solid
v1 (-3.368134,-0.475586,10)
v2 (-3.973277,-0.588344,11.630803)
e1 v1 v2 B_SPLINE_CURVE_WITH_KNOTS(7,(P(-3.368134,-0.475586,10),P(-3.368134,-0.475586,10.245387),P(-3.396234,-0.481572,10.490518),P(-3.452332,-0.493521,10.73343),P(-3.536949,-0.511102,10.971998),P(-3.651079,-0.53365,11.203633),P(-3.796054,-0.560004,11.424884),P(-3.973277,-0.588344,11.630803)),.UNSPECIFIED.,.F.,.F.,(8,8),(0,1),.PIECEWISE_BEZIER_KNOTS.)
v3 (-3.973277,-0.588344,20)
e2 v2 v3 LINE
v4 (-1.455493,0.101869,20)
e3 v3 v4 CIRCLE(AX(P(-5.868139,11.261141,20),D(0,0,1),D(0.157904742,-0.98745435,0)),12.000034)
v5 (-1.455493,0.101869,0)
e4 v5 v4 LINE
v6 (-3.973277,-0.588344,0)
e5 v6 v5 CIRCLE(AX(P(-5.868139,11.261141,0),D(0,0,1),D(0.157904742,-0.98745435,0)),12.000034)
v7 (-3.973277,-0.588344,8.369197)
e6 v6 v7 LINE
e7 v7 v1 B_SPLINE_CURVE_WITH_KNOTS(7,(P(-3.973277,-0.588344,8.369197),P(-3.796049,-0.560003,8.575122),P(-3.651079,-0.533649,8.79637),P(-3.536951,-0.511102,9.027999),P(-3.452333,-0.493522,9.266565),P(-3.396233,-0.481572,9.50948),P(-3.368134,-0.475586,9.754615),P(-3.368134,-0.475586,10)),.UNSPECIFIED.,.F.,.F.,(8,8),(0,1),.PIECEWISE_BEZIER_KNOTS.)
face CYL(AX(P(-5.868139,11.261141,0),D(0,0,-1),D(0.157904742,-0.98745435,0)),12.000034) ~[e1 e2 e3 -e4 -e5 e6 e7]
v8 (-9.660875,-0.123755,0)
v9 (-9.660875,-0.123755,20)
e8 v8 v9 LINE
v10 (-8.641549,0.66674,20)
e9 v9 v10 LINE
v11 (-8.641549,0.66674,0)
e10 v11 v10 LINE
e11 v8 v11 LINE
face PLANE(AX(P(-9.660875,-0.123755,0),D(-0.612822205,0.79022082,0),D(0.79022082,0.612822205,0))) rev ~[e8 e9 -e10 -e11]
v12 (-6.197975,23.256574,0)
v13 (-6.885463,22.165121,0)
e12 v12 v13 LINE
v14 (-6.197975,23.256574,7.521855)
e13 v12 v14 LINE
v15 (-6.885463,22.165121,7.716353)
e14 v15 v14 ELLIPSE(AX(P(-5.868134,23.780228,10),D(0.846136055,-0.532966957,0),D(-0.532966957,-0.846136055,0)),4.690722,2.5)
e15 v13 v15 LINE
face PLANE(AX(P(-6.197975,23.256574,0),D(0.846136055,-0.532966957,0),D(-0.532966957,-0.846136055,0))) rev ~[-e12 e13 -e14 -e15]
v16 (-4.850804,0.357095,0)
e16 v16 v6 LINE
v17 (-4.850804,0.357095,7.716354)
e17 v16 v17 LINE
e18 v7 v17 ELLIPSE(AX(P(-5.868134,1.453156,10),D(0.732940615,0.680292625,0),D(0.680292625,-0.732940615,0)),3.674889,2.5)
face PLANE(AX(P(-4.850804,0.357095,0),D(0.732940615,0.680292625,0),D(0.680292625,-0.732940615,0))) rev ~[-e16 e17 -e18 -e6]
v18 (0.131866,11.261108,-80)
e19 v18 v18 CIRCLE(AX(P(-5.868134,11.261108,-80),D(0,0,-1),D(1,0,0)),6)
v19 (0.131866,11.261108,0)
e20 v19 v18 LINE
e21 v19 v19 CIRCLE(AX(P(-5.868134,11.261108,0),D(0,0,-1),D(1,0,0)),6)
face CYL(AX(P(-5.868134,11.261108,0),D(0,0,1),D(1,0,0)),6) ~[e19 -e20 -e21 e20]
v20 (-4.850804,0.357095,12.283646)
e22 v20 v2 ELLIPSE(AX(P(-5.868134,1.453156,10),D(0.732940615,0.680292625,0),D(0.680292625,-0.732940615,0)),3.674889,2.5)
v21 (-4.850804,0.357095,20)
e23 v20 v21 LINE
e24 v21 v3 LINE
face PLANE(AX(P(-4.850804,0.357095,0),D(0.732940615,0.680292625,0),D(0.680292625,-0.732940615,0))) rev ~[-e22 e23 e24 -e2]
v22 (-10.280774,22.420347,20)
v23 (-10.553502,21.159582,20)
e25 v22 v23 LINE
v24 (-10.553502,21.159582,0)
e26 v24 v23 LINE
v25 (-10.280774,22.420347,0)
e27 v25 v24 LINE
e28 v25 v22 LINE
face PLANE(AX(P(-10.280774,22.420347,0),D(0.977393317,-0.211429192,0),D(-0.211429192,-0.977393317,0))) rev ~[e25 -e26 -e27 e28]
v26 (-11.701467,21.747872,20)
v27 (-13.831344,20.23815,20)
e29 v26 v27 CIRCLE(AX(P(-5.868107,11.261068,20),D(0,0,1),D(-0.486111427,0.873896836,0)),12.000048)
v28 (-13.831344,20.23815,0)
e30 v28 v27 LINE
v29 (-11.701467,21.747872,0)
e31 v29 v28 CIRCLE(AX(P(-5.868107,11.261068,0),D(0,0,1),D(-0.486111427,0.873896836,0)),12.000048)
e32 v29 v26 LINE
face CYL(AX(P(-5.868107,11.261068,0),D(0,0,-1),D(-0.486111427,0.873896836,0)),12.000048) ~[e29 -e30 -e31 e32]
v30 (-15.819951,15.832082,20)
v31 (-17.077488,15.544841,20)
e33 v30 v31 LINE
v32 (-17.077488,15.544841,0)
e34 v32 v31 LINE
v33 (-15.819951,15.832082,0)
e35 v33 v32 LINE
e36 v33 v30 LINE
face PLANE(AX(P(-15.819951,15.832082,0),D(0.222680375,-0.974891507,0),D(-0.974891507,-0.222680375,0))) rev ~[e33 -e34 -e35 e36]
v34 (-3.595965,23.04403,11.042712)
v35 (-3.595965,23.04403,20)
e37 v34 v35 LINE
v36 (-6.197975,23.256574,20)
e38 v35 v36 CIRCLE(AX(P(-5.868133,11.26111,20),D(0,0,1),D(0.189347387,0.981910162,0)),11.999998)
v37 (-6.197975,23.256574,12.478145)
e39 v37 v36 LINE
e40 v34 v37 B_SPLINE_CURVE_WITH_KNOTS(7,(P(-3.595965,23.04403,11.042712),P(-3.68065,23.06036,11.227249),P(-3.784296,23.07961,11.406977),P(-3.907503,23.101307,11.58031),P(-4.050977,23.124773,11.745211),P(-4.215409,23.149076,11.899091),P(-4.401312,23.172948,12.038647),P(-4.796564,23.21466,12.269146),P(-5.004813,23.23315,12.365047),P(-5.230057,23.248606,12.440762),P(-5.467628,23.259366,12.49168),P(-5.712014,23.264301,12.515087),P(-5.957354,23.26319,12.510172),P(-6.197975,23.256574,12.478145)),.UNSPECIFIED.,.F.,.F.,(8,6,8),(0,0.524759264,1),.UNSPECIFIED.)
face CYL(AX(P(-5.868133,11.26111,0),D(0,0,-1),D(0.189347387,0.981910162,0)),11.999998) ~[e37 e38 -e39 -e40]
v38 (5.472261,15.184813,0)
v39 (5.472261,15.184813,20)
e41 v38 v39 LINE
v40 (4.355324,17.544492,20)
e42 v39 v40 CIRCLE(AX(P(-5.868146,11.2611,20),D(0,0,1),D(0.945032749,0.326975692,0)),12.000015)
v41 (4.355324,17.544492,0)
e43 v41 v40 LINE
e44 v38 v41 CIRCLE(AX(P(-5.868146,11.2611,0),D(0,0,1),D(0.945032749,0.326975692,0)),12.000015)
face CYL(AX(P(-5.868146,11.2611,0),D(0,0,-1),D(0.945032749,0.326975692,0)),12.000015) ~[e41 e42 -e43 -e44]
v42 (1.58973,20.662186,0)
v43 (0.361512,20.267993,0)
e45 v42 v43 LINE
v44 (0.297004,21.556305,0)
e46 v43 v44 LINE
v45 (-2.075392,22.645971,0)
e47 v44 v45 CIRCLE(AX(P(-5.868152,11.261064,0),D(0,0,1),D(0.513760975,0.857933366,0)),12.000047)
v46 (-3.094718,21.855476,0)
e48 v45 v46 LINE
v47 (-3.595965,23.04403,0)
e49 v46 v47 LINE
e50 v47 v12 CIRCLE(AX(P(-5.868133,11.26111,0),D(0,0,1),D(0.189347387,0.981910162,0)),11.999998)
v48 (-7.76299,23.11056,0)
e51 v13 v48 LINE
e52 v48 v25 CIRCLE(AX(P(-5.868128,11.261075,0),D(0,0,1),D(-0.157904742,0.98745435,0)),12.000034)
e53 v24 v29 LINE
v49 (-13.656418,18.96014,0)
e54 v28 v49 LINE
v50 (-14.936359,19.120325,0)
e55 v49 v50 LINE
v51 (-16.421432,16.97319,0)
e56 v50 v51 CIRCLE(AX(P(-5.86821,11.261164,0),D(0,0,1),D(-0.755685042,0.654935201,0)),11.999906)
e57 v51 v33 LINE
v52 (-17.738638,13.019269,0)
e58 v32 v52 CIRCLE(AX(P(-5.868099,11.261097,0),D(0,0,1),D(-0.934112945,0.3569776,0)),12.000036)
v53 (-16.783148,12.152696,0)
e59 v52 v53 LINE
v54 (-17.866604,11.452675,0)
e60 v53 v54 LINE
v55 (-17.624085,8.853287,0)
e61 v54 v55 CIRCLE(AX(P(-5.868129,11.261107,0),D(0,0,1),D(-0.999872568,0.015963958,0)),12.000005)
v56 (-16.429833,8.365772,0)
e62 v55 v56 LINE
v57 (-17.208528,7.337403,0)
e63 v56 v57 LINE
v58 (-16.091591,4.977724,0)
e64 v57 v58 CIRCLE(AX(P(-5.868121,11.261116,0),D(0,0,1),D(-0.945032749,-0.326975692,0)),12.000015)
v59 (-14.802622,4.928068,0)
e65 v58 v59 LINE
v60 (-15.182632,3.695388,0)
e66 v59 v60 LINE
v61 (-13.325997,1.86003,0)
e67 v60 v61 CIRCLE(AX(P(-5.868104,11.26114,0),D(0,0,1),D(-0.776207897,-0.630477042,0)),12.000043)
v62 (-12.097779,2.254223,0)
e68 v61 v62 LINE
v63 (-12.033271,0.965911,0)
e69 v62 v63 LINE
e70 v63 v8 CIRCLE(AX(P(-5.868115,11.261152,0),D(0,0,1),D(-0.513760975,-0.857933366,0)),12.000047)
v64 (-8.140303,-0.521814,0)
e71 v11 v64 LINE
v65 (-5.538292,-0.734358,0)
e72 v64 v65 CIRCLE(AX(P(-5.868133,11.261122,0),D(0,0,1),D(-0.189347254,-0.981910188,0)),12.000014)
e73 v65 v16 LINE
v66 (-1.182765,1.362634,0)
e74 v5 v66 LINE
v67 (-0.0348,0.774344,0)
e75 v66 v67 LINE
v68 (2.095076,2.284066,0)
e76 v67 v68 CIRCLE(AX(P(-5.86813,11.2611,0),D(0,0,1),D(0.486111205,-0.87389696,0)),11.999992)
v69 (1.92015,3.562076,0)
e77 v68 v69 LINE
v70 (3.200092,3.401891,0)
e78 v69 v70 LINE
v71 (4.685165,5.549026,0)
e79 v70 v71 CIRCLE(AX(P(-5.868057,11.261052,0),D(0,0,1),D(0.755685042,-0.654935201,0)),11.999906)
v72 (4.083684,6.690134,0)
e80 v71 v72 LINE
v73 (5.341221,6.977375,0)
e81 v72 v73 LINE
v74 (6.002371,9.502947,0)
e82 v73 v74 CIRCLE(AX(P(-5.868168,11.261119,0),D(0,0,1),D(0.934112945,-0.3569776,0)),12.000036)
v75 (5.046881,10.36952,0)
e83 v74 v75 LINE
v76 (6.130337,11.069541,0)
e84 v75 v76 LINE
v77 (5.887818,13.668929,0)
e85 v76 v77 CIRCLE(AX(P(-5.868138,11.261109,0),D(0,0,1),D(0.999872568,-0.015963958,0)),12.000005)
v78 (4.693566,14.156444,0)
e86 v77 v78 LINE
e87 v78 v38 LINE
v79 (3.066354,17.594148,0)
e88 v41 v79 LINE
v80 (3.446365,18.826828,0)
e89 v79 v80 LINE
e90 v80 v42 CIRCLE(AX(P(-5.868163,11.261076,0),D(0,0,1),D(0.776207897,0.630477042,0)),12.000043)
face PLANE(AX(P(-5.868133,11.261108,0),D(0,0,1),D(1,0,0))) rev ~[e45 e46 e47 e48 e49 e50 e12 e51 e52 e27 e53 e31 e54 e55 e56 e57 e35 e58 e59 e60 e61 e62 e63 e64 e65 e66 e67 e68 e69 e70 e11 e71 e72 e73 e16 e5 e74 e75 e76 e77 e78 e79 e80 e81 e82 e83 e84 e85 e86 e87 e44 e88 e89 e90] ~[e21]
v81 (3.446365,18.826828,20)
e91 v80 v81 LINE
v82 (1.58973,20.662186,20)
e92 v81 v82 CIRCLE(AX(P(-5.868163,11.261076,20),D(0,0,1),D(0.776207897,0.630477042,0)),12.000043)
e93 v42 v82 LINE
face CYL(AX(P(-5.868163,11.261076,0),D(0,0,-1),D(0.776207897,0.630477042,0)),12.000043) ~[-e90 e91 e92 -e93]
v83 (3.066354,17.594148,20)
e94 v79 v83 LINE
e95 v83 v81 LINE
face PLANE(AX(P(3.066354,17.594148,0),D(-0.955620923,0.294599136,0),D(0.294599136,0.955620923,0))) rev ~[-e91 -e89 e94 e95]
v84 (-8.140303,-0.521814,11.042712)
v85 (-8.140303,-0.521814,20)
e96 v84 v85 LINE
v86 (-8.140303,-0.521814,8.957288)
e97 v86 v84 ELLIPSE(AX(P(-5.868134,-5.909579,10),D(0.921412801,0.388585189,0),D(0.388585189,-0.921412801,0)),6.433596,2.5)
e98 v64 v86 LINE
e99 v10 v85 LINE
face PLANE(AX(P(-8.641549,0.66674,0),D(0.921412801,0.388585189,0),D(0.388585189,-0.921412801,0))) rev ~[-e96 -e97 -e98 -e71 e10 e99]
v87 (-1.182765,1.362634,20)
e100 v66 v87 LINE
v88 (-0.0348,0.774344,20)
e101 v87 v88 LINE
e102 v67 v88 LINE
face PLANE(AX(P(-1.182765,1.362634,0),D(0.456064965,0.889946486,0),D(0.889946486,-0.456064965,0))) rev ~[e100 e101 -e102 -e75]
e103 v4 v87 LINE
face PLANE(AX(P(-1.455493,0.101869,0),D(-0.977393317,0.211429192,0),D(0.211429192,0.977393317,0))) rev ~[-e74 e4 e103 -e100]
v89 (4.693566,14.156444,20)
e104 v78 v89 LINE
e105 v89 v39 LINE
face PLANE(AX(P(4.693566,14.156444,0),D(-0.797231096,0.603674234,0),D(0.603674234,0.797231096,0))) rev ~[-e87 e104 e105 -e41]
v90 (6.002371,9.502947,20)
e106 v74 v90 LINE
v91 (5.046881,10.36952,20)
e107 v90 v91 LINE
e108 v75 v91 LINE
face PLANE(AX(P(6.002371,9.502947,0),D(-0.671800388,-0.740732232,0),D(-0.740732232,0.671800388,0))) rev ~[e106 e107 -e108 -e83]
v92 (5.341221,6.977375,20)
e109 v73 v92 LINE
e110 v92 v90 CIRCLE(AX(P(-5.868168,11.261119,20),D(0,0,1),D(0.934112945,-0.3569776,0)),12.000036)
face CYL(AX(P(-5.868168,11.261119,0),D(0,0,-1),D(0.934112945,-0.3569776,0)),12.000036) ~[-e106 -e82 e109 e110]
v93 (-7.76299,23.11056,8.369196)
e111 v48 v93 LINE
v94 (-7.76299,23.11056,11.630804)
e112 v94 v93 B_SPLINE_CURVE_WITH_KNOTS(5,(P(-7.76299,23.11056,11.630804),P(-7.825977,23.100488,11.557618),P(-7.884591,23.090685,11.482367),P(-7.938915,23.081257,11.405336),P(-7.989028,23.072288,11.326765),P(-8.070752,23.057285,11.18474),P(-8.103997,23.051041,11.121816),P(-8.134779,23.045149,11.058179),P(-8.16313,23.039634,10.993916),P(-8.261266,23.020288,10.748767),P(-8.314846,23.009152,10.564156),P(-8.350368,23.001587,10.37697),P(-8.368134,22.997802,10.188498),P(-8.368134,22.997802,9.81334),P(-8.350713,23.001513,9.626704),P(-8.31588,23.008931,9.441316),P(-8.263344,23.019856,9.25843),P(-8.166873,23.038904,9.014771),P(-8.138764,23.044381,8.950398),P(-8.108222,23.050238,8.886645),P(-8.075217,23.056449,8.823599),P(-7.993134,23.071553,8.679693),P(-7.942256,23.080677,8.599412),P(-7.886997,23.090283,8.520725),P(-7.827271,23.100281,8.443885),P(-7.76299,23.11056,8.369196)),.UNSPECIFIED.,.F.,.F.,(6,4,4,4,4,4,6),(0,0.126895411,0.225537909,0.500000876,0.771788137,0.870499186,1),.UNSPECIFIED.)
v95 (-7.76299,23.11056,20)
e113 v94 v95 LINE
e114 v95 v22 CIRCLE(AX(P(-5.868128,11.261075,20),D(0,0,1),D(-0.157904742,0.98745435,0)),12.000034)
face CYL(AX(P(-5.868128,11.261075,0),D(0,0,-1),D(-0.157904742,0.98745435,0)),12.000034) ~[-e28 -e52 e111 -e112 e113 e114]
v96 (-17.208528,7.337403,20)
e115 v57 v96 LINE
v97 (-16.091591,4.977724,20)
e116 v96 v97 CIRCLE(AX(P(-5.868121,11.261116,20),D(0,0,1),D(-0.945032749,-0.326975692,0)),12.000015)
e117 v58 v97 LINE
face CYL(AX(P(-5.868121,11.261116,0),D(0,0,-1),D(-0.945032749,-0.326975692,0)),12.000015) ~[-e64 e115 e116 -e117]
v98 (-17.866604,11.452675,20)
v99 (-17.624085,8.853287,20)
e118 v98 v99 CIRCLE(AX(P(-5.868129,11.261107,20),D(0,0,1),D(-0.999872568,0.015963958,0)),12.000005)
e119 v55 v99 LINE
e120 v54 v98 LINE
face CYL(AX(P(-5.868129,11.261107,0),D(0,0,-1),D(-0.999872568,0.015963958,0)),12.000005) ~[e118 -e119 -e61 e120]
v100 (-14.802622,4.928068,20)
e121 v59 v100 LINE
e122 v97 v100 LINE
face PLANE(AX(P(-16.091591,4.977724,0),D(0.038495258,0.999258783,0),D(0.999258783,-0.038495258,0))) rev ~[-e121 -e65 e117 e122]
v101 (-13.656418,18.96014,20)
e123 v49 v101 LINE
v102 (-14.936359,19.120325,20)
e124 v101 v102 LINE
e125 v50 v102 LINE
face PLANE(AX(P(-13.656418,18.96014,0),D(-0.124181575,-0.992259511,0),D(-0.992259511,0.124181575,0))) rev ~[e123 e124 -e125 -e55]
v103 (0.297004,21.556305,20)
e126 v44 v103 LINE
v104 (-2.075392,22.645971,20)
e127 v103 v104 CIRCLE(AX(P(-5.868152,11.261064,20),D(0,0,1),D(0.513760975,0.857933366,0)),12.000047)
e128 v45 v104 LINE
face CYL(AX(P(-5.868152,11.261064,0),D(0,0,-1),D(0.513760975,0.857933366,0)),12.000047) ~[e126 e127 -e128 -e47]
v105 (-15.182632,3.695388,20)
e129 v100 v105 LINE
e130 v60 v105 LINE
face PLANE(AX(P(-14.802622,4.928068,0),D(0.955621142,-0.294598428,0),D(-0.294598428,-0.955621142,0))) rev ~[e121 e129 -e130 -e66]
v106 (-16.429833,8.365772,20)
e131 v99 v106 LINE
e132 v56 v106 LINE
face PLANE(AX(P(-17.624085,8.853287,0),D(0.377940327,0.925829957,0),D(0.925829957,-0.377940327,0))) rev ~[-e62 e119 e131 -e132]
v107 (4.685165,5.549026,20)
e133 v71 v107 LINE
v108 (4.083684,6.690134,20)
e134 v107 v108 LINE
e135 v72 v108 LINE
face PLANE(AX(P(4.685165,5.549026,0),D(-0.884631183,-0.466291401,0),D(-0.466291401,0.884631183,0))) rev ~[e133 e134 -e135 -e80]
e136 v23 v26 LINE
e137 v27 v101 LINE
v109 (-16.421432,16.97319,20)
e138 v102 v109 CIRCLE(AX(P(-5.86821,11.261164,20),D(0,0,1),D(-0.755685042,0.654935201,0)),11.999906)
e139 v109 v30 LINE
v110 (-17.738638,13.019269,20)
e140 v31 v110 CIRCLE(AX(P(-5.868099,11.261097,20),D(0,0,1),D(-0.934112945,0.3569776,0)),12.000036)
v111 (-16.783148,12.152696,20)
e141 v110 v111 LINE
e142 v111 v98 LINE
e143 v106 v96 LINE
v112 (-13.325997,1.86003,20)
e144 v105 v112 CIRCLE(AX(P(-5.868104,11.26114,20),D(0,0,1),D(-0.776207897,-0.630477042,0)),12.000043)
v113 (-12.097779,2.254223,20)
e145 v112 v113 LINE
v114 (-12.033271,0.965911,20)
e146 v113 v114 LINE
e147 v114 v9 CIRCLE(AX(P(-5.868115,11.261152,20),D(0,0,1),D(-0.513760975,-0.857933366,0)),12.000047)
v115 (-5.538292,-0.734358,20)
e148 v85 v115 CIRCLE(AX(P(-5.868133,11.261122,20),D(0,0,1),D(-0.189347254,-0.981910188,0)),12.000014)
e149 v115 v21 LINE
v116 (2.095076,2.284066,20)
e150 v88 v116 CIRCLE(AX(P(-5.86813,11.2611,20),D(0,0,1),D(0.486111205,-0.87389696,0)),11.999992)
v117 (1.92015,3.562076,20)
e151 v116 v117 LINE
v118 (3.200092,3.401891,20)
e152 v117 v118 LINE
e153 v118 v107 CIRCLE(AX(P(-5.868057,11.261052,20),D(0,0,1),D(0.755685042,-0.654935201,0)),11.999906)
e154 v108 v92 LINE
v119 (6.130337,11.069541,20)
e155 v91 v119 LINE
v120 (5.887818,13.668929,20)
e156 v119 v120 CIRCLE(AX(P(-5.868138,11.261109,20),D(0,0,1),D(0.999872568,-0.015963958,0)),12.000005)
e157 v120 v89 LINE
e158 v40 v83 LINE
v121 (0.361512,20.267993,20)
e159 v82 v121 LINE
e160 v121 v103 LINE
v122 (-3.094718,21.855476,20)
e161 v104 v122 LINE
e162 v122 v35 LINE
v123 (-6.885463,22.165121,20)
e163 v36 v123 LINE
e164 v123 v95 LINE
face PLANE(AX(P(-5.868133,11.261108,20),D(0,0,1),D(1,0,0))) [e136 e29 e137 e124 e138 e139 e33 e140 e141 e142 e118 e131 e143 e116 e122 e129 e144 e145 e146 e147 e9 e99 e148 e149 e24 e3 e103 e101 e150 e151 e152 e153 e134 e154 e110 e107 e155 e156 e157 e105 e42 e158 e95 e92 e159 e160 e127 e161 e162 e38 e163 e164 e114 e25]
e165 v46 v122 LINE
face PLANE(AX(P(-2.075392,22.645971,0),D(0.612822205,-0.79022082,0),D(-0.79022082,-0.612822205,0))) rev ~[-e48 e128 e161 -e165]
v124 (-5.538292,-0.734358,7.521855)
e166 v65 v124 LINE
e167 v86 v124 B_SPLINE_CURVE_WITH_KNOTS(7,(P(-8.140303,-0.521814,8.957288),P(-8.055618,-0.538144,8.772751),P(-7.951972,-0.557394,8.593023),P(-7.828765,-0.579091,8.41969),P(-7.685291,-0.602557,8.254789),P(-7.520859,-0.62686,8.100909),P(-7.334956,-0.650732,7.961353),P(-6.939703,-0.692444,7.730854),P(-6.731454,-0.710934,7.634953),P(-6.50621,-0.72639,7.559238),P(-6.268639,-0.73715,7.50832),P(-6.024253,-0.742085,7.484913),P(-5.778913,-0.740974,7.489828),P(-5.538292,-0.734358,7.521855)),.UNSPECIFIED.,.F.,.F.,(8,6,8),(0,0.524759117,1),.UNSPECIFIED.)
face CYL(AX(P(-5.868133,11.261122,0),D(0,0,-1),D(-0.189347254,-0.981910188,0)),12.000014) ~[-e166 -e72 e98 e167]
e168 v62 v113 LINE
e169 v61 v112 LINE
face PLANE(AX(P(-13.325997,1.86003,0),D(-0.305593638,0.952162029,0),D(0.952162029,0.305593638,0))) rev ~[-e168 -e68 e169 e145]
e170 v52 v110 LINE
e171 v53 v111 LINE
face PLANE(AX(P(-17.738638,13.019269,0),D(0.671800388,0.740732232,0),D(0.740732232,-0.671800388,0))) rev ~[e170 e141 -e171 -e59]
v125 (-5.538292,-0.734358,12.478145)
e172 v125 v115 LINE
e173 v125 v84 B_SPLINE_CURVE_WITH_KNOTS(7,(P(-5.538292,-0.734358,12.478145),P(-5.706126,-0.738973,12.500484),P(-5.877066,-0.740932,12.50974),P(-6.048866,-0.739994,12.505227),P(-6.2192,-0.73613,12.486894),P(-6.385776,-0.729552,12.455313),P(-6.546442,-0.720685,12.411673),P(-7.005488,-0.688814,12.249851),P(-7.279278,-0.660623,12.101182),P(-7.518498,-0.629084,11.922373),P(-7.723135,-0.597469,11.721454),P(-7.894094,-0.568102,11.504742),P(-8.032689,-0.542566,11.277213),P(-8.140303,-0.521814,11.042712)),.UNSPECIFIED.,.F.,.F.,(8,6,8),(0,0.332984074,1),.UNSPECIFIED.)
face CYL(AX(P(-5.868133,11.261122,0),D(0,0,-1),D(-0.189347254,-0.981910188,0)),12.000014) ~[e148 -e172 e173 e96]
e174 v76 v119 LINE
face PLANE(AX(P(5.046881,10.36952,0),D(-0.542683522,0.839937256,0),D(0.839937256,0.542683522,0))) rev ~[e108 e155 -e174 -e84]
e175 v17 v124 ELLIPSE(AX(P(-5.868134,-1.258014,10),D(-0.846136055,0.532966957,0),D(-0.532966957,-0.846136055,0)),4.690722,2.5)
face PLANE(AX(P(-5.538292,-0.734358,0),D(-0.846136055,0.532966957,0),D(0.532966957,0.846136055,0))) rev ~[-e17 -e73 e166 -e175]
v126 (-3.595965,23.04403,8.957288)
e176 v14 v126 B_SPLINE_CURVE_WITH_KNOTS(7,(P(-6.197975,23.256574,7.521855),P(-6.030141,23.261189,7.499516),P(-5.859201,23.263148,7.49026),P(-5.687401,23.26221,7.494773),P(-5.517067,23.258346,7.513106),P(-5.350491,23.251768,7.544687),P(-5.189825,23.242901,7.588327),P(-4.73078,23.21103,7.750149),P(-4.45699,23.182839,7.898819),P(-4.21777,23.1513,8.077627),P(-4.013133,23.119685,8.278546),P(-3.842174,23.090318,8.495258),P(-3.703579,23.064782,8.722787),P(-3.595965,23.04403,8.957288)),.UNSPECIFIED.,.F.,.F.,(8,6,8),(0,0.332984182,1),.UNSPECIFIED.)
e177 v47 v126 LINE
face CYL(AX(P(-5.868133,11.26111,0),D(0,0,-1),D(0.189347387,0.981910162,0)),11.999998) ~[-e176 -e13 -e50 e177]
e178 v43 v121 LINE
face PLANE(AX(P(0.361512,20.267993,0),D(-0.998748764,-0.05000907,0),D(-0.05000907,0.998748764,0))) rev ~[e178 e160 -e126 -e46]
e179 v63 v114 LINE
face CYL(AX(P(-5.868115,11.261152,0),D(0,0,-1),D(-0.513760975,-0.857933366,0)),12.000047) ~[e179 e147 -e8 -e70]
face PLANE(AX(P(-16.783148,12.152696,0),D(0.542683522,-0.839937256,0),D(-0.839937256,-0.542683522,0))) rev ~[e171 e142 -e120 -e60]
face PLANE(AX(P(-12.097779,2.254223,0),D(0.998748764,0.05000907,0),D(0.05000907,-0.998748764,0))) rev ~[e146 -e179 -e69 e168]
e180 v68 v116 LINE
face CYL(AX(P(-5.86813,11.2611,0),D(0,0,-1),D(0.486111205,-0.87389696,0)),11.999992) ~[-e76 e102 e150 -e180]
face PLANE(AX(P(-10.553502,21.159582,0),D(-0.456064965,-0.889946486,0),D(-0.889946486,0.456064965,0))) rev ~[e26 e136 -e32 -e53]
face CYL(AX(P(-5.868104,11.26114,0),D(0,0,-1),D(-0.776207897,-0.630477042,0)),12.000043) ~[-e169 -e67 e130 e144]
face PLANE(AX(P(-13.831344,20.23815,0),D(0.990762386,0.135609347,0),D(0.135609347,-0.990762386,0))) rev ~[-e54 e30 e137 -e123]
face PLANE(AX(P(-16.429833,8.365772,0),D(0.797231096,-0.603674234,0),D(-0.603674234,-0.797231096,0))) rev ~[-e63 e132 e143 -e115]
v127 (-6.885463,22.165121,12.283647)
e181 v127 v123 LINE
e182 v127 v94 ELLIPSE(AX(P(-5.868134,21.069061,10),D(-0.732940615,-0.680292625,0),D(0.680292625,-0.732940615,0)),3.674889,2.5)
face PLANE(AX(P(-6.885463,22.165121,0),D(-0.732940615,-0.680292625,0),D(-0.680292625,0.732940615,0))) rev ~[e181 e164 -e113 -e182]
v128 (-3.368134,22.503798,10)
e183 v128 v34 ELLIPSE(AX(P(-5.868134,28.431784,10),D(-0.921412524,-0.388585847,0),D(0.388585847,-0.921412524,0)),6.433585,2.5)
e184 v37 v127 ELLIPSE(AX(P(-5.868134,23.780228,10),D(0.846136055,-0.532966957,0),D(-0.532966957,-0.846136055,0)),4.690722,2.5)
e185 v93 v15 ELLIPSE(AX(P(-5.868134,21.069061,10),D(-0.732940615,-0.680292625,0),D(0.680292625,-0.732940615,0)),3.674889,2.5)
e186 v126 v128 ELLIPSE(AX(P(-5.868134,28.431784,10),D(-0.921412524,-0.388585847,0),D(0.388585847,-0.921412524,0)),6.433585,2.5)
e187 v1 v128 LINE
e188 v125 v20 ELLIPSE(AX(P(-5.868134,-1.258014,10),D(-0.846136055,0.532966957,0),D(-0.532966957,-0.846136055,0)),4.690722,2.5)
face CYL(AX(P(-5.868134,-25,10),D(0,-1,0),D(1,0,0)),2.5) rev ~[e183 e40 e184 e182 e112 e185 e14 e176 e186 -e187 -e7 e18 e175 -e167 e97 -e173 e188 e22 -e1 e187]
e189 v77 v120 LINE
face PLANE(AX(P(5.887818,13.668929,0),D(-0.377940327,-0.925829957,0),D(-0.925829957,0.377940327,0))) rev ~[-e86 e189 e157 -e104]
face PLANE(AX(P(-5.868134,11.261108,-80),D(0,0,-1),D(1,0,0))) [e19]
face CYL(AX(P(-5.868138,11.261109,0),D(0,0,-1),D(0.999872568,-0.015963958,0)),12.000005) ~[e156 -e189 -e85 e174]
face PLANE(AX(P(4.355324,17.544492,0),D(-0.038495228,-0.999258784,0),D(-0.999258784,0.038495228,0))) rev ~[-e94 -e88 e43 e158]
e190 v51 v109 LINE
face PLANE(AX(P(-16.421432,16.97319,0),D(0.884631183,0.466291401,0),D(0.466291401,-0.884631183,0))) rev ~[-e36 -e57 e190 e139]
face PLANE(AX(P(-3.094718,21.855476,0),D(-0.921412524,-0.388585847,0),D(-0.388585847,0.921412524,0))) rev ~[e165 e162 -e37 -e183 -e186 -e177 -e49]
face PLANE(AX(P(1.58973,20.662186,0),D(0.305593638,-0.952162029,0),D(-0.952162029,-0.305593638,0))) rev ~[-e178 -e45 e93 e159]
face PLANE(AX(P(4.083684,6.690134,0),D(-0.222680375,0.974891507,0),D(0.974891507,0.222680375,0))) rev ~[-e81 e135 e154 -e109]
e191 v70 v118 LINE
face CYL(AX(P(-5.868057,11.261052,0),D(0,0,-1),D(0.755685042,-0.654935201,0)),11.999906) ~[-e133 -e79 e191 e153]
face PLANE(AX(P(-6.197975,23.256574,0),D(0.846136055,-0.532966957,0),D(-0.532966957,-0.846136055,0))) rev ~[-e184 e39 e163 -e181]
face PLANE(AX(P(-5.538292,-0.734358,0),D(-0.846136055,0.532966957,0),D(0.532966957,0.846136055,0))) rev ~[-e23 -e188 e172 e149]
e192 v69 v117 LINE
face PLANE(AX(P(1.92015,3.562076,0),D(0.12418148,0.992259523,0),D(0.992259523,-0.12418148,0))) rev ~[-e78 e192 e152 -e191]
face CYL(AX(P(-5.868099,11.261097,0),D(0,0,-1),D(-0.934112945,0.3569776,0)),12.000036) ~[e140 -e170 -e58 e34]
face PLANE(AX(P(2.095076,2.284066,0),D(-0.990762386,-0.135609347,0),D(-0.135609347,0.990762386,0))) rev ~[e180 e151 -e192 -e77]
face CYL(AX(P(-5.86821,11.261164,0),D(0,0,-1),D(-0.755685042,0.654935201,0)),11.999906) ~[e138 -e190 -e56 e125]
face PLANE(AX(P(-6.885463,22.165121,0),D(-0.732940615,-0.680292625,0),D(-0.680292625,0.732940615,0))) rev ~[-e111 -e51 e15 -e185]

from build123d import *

# Parameters (mm, degrees)
F1_DEPTH = 20
F3_R     = 2.5
F4_DEPTH = 48.262108
F5_R     = 6
F6_DEPTH = 80


with BuildPart() as f1:
    # F0 (on Top) → F1 (new body)
    with BuildSketch(Plane.XY):
        with BuildLine():
            Line((-10.553502, 21.159582), (-11.701467, 21.747872))
            ThreePointArc((-11.701467, 21.747872), (-12.807584, 21.051104), (-13.831344, 20.23815))
            Line((-13.831344, 20.23815), (-13.656418, 18.96014))
            Line((-13.656418, 18.96014), (-14.936359, 19.120325))
            ThreePointArc((-14.936359, 19.120325), (-15.73746, 18.087264), (-16.421432, 16.97319))
            Line((-16.421432, 16.97319), (-15.819951, 15.832082))
            Line((-15.819951, 15.832082), (-17.077488, 15.544841))
            ThreePointArc((-17.077488, 15.544841), (-17.476949, 14.300088), (-17.738638, 13.019269))
            Line((-17.738638, 13.019269), (-16.783148, 12.152696))
            Line((-16.783148, 12.152696), (-17.866604, 11.452675))
            ThreePointArc((-17.866604, 11.452675), (-17.816244, 10.146366), (-17.624085, 8.853287))
            Line((-17.624085, 8.853287), (-16.429833, 8.365772))
            Line((-16.429833, 8.365772), (-17.208528, 7.337403))
            ThreePointArc((-17.208528, 7.337403), (-16.714421, 6.127099), (-16.091591, 4.977724))
            Line((-16.091591, 4.977724), (-14.802622, 4.928068))
            Line((-14.802622, 4.928068), (-15.182632, 3.695388))
            ThreePointArc((-15.182632, 3.695388), (-14.304375, 2.727069), (-13.325997, 1.86003))
            Line((-13.325997, 1.86003), (-12.097779, 2.254223))
            Line((-12.097779, 2.254223), (-12.033271, 0.965911))
            ThreePointArc((-12.033271, 0.965911), (-10.876794, 0.35637), (-9.660875, -0.123755))
            Line((-9.660875, -0.123755), (-8.641549, 0.66674))
            Line((-8.641549, 0.66674), (-8.140303, -0.521814))
            ThreePointArc((-8.140303, -0.521814), (-6.845095, -0.699057), (-5.538292, -0.734358))
            Line((-5.538292, -0.734358), (-4.850804, 0.357095))
            Line((-4.850804, 0.357095), (-3.973277, -0.588344))
            ThreePointArc((-3.973277, -0.588344), (-2.695559, -0.311911), (-1.455493, 0.101869))
            Line((-1.455493, 0.101869), (-1.182765, 1.362634))
            Line((-1.182765, 1.362634), (-0.0348, 0.774344))
            ThreePointArc((-0.0348, 0.774344), (1.071317, 1.471112), (2.095076, 2.284066))
            Line((2.095076, 2.284066), (1.92015, 3.562076))
            Line((1.92015, 3.562076), (3.200092, 3.401891))
            ThreePointArc((3.200092, 3.401891), (4.001193, 4.434952), (4.685165, 5.549026))
            Line((4.685165, 5.549026), (4.083684, 6.690134))
            Line((4.083684, 6.690134), (5.341221, 6.977375))
            ThreePointArc((5.341221, 6.977375), (5.740682, 8.222128), (6.002371, 9.502947))
            Line((6.002371, 9.502947), (5.046881, 10.36952))
            Line((5.046881, 10.36952), (6.130337, 11.069541))
            ThreePointArc((6.130337, 11.069541), (6.079977, 12.37585), (5.887818, 13.668929))
            Line((5.887818, 13.668929), (4.693566, 14.156444))
            Line((4.693566, 14.156444), (5.472261, 15.184813))
            ThreePointArc((5.472261, 15.184813), (4.978154, 16.395117), (4.355324, 17.544492))
            Line((4.355324, 17.544492), (3.066354, 17.594148))
            Line((3.066354, 17.594148), (3.446365, 18.826828))
            ThreePointArc((3.446365, 18.826828), (2.568108, 19.795147), (1.58973, 20.662186))
            Line((1.58973, 20.662186), (0.361512, 20.267993))
            Line((0.361512, 20.267993), (0.297004, 21.556305))
            ThreePointArc((0.297004, 21.556305), (-0.859473, 22.165846), (-2.075392, 22.645971))
            Line((-2.075392, 22.645971), (-3.094718, 21.855476))
            Line((-3.094718, 21.855476), (-3.595965, 23.04403))
            ThreePointArc((-3.595965, 23.04403), (-4.891172, 23.221273), (-6.197975, 23.256574))
            Line((-6.197975, 23.256574), (-6.885463, 22.165121))
            Line((-6.885463, 22.165121), (-7.76299, 23.11056))
            ThreePointArc((-7.76299, 23.11056), (-9.040708, 22.834127), (-10.280774, 22.420347))
            Line((-10.280774, 22.420347), (-10.553502, 21.159582))
        make_face()
    extrude(amount=F1_DEPTH)

    # F3 (on offset) → F4 (cut, through all)
    with BuildSketch(Plane.XZ.offset(25)):
        with Locations((-5.868134, 10)):
            Circle(F3_R)
    extrude(amount=-F4_DEPTH, mode=Mode.SUBTRACT)

    # F5 (on face) → F6 (join)
    with BuildSketch(Plane(origin=(0, 0, 0), x_dir=(1, 0, 0), z_dir=(0, 0, -1))):
        with Locations((-5.868134, -11.261108)):
            Circle(F5_R)
    extrude(amount=F6_DEPTH)


solid = f1.part
